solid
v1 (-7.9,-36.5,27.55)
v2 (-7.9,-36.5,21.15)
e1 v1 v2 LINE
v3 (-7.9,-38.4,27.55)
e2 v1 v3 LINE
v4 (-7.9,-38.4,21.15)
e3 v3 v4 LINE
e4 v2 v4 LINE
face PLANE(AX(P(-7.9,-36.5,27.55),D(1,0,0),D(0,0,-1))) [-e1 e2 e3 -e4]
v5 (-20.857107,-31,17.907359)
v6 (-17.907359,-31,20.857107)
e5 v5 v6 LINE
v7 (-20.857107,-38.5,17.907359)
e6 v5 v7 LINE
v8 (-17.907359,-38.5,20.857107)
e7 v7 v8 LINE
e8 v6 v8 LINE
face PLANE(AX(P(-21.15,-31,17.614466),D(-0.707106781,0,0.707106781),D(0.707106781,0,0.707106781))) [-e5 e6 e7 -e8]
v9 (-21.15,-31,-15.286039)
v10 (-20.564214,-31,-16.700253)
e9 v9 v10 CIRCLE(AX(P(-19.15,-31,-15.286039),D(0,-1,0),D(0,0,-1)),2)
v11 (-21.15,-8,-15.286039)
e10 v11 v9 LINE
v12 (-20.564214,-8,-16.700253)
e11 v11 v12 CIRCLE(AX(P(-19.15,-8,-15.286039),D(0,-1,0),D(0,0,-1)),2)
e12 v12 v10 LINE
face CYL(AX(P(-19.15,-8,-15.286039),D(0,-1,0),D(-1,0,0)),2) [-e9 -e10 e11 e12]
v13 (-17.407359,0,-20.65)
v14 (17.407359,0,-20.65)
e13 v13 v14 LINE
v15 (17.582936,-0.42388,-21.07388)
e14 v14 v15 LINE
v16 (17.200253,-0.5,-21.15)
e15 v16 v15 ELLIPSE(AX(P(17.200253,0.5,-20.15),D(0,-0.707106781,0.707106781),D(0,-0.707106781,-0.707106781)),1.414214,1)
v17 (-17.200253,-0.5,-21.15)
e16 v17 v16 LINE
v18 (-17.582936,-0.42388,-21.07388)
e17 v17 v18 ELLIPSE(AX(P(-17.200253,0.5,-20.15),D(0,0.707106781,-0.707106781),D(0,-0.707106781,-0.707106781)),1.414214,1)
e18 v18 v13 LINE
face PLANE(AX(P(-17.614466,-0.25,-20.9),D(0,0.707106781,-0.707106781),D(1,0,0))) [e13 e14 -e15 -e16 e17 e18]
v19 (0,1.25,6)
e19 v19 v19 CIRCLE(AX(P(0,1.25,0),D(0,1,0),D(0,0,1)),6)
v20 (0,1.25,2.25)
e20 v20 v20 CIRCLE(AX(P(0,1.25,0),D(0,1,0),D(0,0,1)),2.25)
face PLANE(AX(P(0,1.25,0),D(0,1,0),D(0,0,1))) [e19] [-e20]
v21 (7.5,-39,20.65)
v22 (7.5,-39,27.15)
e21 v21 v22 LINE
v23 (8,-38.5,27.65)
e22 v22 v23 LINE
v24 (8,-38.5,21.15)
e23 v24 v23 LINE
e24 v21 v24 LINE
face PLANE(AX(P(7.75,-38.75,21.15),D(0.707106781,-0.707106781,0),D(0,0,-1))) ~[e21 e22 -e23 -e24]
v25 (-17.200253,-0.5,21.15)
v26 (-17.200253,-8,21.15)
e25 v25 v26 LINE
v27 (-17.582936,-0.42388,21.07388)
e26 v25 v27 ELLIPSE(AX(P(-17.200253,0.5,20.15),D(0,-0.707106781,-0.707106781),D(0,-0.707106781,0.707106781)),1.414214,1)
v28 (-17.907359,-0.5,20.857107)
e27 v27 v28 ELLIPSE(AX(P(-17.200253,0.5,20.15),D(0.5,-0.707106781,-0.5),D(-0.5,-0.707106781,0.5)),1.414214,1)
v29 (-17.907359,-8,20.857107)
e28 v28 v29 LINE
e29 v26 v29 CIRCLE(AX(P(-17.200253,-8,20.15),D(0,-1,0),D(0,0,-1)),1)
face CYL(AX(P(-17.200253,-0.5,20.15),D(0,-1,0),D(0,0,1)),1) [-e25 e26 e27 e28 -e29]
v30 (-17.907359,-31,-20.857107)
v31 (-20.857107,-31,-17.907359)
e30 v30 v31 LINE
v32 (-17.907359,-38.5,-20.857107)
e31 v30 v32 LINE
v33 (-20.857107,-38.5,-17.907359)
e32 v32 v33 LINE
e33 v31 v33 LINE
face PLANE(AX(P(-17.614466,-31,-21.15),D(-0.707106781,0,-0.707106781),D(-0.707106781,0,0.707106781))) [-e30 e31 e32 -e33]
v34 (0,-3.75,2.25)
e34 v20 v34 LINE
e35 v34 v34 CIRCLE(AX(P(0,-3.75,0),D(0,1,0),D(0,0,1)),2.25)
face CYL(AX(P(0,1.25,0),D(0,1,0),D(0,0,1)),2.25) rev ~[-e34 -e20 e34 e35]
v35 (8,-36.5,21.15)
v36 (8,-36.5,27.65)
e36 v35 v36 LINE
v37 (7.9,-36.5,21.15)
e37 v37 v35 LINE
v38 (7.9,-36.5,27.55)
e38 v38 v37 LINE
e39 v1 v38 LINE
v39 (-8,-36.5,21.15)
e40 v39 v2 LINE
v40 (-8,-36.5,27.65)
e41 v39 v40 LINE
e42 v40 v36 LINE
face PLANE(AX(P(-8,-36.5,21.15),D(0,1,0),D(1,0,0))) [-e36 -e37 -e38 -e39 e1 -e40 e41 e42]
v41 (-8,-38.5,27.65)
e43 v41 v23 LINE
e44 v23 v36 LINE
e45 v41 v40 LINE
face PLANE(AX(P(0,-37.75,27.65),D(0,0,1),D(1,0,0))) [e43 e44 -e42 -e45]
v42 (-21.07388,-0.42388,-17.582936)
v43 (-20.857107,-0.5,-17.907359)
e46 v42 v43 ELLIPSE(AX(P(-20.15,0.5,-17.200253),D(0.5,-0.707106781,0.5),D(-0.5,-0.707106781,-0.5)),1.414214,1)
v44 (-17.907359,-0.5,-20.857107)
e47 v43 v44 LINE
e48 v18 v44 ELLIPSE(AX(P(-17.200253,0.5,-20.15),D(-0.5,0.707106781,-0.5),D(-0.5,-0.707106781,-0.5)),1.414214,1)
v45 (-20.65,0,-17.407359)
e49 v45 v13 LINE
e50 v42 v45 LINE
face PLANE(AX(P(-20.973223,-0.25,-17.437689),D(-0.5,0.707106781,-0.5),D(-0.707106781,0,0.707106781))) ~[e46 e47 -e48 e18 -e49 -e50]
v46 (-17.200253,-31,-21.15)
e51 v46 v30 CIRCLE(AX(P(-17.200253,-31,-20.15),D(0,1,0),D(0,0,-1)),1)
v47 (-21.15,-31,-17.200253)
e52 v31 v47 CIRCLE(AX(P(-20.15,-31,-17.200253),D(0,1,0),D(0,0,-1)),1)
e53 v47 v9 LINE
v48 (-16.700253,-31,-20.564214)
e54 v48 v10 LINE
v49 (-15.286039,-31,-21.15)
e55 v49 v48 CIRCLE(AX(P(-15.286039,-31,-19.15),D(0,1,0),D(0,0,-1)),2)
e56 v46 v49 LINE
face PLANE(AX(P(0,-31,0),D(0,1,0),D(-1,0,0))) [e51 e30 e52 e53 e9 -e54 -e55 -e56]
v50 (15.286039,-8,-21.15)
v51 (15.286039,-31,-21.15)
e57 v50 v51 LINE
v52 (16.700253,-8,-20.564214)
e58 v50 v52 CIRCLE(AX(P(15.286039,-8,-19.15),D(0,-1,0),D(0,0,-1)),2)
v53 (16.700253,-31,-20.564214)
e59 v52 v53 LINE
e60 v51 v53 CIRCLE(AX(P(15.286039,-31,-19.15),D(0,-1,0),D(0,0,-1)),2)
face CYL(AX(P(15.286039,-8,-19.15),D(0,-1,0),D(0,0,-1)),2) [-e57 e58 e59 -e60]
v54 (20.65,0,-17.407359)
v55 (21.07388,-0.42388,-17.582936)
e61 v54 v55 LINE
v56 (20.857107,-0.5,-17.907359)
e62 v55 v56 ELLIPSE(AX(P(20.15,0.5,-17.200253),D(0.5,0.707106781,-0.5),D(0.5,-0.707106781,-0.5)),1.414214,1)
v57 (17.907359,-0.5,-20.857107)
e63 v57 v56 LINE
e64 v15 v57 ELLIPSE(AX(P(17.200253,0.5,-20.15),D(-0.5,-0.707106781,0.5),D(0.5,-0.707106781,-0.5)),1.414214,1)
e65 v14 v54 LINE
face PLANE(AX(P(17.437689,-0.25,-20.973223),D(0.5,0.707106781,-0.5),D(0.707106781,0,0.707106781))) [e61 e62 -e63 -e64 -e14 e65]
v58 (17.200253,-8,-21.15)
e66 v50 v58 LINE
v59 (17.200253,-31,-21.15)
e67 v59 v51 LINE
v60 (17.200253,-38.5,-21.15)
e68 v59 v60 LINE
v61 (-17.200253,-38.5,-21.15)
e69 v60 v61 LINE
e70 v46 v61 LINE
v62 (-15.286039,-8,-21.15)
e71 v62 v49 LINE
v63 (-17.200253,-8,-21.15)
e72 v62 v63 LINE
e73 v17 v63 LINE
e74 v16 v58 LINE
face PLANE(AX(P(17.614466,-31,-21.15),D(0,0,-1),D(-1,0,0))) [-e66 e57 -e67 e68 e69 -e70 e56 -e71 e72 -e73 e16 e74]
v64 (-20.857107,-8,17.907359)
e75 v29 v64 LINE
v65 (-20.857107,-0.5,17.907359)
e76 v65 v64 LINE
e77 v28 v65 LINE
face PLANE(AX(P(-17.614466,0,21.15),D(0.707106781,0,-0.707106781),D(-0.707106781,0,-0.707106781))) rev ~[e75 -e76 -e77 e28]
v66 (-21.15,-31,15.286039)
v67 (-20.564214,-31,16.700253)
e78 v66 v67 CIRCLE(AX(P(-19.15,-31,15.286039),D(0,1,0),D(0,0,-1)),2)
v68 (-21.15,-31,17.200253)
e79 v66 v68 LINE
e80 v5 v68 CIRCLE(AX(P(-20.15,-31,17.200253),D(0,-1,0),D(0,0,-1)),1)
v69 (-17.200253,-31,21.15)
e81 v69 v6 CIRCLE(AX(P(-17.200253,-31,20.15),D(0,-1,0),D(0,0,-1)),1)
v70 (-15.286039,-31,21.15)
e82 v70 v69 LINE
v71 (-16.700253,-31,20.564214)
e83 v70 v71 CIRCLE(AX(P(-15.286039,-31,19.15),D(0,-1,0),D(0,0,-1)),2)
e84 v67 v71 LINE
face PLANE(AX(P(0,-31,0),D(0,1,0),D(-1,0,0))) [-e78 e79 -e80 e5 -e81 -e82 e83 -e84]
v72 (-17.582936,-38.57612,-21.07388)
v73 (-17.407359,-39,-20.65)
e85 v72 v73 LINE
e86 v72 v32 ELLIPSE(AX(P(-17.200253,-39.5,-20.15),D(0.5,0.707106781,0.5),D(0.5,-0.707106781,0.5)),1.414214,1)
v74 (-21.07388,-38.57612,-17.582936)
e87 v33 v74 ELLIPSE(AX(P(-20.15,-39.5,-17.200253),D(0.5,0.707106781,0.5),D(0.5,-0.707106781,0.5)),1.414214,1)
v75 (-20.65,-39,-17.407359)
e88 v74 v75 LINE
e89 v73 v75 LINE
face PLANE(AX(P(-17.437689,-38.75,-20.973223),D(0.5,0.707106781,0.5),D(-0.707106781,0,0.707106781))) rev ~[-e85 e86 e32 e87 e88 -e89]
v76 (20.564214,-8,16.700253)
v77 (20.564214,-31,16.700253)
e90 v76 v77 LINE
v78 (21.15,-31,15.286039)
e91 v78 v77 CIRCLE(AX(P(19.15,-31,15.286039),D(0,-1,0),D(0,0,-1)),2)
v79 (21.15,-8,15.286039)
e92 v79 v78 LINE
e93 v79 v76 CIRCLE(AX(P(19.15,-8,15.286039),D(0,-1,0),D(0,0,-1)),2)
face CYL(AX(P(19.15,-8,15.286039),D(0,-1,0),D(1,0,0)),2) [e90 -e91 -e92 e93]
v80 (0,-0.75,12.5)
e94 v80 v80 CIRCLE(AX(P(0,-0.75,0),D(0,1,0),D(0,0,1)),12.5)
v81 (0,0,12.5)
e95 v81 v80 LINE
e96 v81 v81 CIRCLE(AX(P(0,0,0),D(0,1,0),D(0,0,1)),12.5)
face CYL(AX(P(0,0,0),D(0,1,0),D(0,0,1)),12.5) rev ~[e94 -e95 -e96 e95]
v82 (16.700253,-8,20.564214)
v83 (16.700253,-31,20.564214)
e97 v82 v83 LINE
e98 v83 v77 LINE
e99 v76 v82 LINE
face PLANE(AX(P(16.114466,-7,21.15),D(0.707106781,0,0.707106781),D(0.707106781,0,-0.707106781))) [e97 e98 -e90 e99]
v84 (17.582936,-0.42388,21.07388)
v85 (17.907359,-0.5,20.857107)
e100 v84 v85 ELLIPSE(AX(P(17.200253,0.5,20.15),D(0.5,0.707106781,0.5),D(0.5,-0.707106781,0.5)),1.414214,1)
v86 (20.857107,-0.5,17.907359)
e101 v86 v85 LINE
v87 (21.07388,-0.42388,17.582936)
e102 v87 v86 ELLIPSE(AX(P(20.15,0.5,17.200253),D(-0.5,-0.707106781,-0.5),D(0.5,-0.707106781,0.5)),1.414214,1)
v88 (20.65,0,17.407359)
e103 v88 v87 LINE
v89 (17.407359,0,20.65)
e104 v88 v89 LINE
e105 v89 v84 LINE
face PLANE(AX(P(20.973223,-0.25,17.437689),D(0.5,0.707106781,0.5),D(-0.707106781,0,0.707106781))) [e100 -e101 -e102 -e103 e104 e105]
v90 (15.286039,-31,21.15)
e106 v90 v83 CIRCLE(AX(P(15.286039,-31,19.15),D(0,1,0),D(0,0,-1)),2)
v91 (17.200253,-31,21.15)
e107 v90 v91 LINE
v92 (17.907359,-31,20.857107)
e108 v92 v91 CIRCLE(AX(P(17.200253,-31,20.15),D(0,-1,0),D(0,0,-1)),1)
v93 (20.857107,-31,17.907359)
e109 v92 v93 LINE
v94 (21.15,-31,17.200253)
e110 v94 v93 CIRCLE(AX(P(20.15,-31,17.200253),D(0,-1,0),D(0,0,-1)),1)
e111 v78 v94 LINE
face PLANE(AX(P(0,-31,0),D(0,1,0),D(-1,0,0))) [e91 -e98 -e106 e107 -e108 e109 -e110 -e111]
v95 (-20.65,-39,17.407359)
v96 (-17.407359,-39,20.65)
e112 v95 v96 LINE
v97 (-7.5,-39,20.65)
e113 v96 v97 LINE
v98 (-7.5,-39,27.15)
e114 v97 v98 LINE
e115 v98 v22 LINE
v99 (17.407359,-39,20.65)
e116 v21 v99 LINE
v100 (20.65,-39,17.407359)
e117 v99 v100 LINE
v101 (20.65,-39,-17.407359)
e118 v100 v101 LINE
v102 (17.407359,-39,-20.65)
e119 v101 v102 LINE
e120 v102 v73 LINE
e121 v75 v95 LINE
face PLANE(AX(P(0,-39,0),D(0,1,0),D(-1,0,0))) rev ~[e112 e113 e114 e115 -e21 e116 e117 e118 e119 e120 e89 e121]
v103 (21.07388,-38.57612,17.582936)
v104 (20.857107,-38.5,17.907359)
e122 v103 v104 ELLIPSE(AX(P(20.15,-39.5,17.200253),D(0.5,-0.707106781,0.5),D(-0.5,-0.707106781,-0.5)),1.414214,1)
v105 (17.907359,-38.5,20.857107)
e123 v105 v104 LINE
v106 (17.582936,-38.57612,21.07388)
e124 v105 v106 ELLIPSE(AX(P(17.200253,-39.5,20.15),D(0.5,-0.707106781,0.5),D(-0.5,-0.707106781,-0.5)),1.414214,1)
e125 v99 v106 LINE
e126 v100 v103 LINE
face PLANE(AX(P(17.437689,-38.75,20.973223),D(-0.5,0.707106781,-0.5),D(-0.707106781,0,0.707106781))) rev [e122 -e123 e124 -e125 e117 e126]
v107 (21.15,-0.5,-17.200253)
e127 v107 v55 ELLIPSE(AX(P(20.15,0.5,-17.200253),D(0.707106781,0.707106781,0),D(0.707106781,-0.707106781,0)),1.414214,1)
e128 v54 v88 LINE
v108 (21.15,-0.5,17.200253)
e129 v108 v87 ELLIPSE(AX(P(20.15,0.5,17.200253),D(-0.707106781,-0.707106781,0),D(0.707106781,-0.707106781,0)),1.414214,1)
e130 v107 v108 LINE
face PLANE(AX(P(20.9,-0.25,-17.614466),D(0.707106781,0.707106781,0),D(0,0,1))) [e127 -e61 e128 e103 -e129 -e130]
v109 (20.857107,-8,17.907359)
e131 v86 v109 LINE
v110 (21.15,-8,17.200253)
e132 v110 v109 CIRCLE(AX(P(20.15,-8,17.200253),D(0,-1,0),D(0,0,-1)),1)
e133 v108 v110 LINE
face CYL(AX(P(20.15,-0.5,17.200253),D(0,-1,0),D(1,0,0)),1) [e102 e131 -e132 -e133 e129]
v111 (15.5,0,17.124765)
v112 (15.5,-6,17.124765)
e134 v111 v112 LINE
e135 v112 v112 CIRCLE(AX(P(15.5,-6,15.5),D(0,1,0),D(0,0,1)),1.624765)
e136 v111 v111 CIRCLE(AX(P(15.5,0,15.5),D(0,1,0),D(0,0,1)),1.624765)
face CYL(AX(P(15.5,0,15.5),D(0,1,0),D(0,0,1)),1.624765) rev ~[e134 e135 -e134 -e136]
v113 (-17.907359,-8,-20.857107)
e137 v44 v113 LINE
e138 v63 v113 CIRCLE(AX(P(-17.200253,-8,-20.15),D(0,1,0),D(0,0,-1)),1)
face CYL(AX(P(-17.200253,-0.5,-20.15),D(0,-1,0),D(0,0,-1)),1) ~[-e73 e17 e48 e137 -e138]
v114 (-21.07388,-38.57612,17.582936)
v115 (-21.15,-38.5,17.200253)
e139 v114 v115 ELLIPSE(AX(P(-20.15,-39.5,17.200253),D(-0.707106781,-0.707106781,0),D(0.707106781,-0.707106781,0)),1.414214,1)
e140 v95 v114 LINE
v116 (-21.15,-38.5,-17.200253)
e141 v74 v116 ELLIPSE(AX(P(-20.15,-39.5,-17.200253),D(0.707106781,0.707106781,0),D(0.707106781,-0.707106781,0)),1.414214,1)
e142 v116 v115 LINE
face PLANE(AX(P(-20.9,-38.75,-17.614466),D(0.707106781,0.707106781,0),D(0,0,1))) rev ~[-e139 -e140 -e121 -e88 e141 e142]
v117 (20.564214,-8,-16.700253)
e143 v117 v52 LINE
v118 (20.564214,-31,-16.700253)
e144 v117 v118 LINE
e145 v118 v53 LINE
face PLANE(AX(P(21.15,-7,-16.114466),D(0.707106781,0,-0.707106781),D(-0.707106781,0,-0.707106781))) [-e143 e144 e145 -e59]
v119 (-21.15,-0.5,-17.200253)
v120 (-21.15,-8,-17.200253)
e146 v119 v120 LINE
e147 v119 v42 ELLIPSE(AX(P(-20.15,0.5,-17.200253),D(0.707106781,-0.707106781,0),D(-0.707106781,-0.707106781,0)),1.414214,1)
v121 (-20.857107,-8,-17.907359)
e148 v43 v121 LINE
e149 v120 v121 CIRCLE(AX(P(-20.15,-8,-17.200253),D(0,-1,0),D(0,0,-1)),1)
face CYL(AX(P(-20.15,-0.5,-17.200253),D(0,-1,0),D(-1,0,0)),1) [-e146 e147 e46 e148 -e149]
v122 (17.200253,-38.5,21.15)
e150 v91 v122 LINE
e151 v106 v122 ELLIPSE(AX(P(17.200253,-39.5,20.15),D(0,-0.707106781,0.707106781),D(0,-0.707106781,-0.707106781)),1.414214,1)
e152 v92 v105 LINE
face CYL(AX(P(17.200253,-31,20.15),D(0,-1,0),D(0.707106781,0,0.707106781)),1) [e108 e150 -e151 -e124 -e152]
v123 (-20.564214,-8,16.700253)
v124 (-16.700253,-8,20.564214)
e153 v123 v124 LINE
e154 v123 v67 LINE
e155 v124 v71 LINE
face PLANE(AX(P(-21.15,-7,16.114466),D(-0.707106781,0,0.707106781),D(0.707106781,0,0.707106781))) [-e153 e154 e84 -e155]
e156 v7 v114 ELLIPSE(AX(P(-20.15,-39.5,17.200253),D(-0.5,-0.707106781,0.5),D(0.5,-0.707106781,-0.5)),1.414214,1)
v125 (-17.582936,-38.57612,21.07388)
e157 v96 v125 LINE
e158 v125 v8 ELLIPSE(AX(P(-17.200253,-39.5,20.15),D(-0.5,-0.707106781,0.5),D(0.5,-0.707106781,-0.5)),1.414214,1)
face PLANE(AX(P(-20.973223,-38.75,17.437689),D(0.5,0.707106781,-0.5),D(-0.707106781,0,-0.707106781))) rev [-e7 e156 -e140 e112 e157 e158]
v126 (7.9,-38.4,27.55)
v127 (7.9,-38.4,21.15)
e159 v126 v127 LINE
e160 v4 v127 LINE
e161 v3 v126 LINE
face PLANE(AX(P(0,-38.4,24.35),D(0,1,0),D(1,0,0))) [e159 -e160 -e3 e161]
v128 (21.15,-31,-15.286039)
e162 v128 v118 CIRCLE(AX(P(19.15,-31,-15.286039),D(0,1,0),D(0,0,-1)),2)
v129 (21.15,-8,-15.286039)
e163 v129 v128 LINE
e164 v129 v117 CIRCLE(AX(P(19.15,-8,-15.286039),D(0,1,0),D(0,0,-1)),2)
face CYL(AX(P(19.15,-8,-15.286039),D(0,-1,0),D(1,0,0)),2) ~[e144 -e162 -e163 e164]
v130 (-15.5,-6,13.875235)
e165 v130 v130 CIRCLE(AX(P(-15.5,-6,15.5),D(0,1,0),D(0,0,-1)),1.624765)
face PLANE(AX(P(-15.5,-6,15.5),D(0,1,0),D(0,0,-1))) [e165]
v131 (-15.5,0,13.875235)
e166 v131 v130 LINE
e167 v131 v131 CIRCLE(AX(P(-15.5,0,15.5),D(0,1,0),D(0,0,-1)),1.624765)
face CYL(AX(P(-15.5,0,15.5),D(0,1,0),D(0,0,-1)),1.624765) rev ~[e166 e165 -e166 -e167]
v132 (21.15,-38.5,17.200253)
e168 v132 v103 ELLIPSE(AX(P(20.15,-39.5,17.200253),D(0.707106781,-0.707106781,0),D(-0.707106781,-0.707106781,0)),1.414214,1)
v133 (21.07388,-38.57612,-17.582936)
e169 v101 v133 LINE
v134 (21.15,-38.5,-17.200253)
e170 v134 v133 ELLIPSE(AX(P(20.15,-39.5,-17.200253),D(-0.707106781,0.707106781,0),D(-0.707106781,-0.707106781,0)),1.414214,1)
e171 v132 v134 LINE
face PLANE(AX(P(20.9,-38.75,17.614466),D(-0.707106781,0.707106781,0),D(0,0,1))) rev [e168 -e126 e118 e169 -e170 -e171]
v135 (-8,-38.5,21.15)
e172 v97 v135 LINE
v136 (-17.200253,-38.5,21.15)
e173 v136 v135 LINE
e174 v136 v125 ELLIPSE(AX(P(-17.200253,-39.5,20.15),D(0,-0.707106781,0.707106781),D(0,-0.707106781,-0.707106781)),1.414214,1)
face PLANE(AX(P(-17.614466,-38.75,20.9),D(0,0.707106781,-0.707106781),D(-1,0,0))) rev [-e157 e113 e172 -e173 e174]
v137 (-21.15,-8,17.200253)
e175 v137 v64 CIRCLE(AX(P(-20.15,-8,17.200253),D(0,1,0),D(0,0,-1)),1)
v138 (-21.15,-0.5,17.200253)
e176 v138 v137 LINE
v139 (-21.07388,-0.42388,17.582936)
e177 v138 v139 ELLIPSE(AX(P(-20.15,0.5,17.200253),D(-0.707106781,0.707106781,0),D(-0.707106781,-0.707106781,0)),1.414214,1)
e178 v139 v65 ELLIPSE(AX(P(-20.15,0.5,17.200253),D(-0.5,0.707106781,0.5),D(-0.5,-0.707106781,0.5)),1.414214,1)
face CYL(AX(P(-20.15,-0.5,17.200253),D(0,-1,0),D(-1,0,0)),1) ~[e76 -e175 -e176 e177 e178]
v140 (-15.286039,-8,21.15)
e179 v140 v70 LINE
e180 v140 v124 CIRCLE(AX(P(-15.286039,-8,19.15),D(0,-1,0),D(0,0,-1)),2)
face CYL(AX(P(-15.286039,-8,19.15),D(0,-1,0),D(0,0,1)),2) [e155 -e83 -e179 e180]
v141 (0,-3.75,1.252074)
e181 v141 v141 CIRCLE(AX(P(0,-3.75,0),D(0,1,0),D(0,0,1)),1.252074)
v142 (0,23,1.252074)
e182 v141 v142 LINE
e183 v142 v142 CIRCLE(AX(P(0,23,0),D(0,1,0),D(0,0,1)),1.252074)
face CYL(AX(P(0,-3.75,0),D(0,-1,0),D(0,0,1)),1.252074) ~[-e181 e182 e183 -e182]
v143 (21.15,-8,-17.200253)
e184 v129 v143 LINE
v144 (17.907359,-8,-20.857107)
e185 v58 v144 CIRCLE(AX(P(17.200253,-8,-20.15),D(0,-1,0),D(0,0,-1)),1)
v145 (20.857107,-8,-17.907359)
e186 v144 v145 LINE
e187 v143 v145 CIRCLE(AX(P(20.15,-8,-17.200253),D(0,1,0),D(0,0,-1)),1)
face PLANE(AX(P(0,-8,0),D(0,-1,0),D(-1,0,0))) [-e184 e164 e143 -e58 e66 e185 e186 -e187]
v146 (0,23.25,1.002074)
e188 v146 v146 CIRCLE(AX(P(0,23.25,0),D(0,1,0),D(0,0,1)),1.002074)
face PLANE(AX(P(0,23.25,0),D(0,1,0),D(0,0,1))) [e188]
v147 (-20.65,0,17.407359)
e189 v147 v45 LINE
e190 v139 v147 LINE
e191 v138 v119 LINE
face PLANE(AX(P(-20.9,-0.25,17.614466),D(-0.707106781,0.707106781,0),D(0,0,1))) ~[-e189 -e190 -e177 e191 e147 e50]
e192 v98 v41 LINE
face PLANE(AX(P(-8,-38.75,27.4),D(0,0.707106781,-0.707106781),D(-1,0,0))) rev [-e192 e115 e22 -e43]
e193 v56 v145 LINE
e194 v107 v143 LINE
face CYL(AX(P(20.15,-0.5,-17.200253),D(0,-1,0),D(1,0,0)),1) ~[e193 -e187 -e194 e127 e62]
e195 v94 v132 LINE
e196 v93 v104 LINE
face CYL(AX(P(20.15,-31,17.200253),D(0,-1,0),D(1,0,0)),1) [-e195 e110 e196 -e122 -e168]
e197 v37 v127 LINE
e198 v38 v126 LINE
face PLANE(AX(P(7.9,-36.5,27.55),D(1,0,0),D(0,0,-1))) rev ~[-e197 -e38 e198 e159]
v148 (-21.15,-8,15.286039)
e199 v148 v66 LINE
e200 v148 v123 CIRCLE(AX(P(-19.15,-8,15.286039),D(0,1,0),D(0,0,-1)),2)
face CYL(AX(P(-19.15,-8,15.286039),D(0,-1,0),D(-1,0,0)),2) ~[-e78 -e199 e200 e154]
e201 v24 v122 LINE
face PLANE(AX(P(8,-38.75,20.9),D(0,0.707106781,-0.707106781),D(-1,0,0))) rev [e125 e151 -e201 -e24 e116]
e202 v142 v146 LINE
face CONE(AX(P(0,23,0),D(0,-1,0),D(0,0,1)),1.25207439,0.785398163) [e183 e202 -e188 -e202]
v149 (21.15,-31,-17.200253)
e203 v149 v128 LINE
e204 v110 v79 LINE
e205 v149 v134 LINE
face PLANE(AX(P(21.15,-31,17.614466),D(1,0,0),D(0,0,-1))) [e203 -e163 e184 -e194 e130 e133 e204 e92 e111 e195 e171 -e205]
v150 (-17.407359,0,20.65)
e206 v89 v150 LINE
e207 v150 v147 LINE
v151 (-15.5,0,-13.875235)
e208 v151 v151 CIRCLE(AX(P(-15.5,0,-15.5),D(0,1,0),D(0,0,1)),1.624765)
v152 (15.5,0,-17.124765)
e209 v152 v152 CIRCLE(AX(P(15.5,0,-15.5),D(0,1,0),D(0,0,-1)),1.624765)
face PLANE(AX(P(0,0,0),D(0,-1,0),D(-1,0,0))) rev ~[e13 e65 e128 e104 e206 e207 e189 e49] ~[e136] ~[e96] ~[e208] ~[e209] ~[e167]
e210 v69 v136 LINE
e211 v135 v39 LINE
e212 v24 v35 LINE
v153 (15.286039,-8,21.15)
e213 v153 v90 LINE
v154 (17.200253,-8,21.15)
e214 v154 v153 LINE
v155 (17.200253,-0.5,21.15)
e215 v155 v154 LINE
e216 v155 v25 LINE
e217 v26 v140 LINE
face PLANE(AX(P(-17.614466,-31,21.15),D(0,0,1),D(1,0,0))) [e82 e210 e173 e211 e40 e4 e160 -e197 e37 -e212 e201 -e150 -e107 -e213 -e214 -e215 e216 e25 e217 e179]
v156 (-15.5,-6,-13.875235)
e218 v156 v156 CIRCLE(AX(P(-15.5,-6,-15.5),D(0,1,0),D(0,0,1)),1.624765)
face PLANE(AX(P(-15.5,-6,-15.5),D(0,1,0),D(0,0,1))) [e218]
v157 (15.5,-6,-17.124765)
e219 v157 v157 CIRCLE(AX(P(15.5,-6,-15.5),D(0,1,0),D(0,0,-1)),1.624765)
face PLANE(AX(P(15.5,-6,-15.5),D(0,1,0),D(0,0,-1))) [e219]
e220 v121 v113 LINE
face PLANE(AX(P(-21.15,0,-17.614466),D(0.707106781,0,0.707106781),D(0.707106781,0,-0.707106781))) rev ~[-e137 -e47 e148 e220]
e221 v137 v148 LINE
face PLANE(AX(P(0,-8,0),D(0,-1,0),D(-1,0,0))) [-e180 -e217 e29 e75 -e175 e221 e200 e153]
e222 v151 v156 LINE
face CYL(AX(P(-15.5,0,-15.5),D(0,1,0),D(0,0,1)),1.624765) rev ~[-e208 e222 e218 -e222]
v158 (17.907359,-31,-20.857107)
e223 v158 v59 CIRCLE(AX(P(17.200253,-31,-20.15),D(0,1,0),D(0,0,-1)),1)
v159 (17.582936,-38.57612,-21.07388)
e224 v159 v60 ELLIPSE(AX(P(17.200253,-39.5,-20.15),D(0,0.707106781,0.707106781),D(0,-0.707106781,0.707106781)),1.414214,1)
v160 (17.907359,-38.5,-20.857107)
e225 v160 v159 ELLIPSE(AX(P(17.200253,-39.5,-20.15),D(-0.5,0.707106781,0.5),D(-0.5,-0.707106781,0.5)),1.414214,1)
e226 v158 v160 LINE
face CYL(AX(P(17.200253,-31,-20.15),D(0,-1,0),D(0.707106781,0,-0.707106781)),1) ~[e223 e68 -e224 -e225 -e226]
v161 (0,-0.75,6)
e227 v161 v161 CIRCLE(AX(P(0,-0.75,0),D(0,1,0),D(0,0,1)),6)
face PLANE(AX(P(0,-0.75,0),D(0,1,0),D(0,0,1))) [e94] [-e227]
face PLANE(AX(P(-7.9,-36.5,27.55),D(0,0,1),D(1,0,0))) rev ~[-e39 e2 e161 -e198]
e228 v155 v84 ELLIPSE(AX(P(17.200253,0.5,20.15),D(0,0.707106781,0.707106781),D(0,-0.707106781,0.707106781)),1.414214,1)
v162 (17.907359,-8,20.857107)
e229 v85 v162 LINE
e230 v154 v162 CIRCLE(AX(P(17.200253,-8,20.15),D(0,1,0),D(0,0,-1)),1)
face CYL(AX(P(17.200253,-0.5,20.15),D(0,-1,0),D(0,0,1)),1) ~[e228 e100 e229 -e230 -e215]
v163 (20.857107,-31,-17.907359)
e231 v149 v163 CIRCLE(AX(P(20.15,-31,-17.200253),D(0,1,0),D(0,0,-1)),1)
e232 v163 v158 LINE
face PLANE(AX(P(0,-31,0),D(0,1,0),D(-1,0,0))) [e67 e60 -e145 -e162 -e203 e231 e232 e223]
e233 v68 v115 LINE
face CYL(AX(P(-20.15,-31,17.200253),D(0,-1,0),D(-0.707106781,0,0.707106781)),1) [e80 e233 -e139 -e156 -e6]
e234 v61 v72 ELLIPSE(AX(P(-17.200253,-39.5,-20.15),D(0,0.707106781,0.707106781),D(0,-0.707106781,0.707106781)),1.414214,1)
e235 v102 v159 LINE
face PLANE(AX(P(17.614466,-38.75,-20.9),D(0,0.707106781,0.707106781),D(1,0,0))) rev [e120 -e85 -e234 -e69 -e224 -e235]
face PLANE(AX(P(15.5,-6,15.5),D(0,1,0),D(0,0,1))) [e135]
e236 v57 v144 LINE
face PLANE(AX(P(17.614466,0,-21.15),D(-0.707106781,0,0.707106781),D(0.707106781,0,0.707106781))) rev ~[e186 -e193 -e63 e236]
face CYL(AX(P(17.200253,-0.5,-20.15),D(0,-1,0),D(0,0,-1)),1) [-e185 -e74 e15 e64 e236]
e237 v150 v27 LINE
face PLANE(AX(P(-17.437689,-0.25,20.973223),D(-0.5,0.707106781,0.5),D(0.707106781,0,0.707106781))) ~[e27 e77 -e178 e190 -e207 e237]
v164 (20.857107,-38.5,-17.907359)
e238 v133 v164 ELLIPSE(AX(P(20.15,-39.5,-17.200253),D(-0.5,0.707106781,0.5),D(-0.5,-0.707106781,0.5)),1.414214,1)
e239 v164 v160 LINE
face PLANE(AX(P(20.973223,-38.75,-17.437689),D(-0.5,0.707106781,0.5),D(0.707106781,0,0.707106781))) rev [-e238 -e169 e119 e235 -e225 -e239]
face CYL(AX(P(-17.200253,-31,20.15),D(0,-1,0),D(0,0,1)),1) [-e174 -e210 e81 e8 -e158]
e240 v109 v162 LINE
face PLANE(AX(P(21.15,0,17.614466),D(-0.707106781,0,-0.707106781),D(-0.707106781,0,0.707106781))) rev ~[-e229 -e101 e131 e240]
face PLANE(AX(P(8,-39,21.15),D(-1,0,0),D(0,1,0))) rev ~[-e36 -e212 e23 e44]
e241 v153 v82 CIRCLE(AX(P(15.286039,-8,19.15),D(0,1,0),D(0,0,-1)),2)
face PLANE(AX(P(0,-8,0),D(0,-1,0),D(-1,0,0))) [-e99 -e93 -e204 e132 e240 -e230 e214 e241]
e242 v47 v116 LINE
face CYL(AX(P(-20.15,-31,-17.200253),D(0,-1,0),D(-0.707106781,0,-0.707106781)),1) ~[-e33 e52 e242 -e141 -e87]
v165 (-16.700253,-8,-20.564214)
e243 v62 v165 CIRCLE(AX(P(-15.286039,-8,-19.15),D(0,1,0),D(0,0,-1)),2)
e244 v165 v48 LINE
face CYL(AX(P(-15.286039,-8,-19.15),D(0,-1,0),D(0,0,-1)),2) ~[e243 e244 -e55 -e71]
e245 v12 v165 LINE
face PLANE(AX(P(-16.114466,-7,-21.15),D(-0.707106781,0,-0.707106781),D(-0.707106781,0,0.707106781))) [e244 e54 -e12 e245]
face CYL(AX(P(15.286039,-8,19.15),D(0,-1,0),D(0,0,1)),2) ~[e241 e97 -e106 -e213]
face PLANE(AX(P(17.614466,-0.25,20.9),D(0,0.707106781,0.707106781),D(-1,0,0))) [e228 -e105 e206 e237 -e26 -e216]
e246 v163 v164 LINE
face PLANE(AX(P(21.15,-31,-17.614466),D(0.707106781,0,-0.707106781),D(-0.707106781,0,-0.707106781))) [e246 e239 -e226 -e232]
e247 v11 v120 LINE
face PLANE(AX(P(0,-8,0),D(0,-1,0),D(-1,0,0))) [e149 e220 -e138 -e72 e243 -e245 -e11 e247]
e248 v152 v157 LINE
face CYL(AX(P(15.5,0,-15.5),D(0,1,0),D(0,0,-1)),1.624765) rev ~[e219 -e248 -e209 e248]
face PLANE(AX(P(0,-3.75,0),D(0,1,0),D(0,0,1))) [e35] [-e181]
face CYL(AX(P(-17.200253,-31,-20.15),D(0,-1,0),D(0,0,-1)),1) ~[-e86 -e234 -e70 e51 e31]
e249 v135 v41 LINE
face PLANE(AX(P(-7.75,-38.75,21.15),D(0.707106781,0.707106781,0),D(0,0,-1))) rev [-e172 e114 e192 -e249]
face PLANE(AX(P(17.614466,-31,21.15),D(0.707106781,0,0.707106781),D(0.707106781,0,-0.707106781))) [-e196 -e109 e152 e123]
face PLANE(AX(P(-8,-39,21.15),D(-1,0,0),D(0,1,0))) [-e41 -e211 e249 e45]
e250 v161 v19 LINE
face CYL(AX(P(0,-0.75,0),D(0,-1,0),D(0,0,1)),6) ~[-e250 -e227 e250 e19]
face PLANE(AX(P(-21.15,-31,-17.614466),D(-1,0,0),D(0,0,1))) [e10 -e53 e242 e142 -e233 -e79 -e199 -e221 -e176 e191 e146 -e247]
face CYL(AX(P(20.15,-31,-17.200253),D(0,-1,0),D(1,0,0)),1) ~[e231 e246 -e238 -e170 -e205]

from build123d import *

# Parameters (mm, degrees)
BOSS_EXTRUDE1_DEPTH  = 8
SKETCH2_R            = 1.624765057
CUT_EXTRUDE1_DEPTH   = 6
CHAMFER1_SIZE        = 0.5
SKETCH3_W            = 32.228932188
SKETCH3_H            = 1
CUT_EXTRUDE2_DEPTH   = 48.964700562
SKETCH4_W            = 32.228932188
SKETCH4_H            = 1
CUT_EXTRUDE3_DEPTH   = 48.964700562
CUT_EXTRUDE4_DEPTH   = 1
MIRROR2_COPY_1_DEPTH = 1
BOSS_EXTRUDE2_DEPTH  = 24
BOSS_EXTRUDE4_DEPTH  = 8
SKETCH22_W           = 16
SKETCH22_H           = 2.5
BOSS_EXTRUDE5_DEPTH  = 6.5
CHAMFER3_SIZE        = 0.5
SKETCH23_W           = 15.8
SKETCH23_H           = 6.4
CUT_EXTRUDE5_DEPTH   = 1.9
SKETCH24_R           = 12.5
CUT_EXTRUDE6_DEPTH   = 0.75
SKETCH25_R           = 6
BOSS_EXTRUDE6_DEPTH  = 2
SKETCH26_R           = 2.25
CUT_EXTRUDE7_DEPTH   = 5
SKETCH27_R           = 1.25207439
BOSS_EXTRUDE7_DEPTH  = 27
CHAMFER5_SIZE        = 0.25
FILLET1_R            = 2
FILLET3_R            = 1
FILLET4_R            = 1


with BuildPart() as part:
    # Sketch1 → Boss-Extrude1 (new body)
    with BuildSketch(Plane(origin=(0, 0, 0), x_dir=(1, 0, 0), z_dir=(0, 1, 0))):
        Polygon((-21.15, -17.614466094), (-21.15, 17.614466094), (-17.614466094, 21.15), (17.614466094, 21.15), (21.15, 17.614466094), (21.15, -17.614466094), (17.614466094, -21.15), (-17.614466094, -21.15), align=None)
    extrude(amount=-BOSS_EXTRUDE1_DEPTH)

    # Sketch2 → Cut-Extrude1 (cut)
    with BuildSketch(Plane(origin=(0, 0, 0), x_dir=(1, 0, 0), z_dir=(0, 1, 0))):
        with Locations(Location((-15.5, 15.5, 0), (0, 0, 270))):
            Circle(SKETCH2_R)
        with Locations(Location((15.5, 15.5, 0), (0, 0, 90))):
            Circle(SKETCH2_R)
        with Locations(Location((15.5, -15.5, 0), (0, 0, 270))):
            Circle(SKETCH2_R)
        with Locations(Location((-15.5, -15.5, 0), (0, 0, 90))):
            Circle(SKETCH2_R)
    extrude(amount=-CUT_EXTRUDE1_DEPTH, mode=Mode.SUBTRACT)

    # Chamfer1
    chamfer1_edges = [part.edges().sort_by_distance(p)[0] for p in [
        (21.15, 0, 0),
        (19.382233047, 0, 19.382233047),
        (0, 0, 21.15),
        (-19.382233047, 0, 19.382233047),
        (-21.15, 0, 0),
        (-19.382233047, 0, -19.382233047),
        (0, 0, -21.15),
        (19.382233047, 0, -19.382233047),
    ]]
    chamfer(chamfer1_edges, length=CHAMFER1_SIZE)

    # Sketch3 → Cut-Extrude2 (cut, through all)
    with BuildSketch(Plane(origin=(21.15, 0, 0), x_dir=(0, 0, -1), z_dir=(1, 0, 0))):
        with Locations((0, -7.5)):
            Rectangle(SKETCH3_W, SKETCH3_H)
    extrude(amount=-CUT_EXTRUDE2_DEPTH, mode=Mode.SUBTRACT)

    # Sketch4 → Cut-Extrude3 (cut, through all)
    with BuildSketch(Plane.XY.offset(21.15)):
        with Locations((0, -7.5)):
            Rectangle(SKETCH4_W, SKETCH4_H)
    extrude(amount=-CUT_EXTRUDE3_DEPTH, mode=Mode.SUBTRACT)

    # Sketch5 → Cut-Extrude4 (cut)
    with BuildSketch(Plane.XZ.offset(8)):
        Polygon((-21.15, 16.114466094), (-16.114466094, 21.15), (-16.114466094, 16.114466094), align=None)
    cut_extrude4 = extrude(amount=-CUT_EXTRUDE4_DEPTH, mode=Mode.SUBTRACT)

    # Mirror1: Cut-Extrude4 across plane
    add(cut_extrude4.mirror(Plane(origin=(0, 0, 0), x_dir=(0, 0, 1), z_dir=(1, 0, 0))), mode=Mode.SUBTRACT)

    # Mirror2: Cut-Extrude4 across plane
    add(cut_extrude4.mirror(Plane.XY), mode=Mode.SUBTRACT)

    # Mirror2 copy 1 sketch → Mirror2 copy 1 (cut)
    with BuildSketch(Plane(origin=(0, -8, 0), x_dir=(-1, 0, 0), z_dir=(0, -1, 0))):
        Polygon((-21.15, 16.114466094), (-16.114466094, 21.15), (-16.114466094, 16.114466094), align=None)
    extrude(amount=-MIRROR2_COPY_1_DEPTH, mode=Mode.SUBTRACT)

    # Sketch6 → Boss-Extrude2 (add)
    with BuildSketch(Plane.XZ.offset(7)):
        Polygon((-21.15, -16.114466094), (-21.15, 16.114466094), (-16.114466094, 21.15), (16.114466094, 21.15), (21.15, 16.114466094), (21.15, -16.114466094), (16.114466094, -21.15), (-16.114466094, -21.15), align=None)
    extrude(amount=BOSS_EXTRUDE2_DEPTH)

    # Sketch16 → Boss-Extrude4 (add)
    with BuildSketch(Plane.XZ.offset(31)):
        Polygon((-21.15, -17.614466094), (-21.15, 17.614466094), (-17.614466094, 21.15), (17.614466094, 21.15), (21.15, 17.614466094), (21.15, -17.614466094), (17.614466094, -21.15), (-17.614466094, -21.15), align=None)
    extrude(amount=BOSS_EXTRUDE4_DEPTH)

    # Sketch22 → Boss-Extrude5 (add)
    with BuildSketch(Plane.XY.offset(21.15)):
        with Locations((0, -37.75)):
            Rectangle(SKETCH22_W, SKETCH22_H)
    extrude(amount=BOSS_EXTRUDE5_DEPTH)

    # Chamfer3
    chamfer3_edges = [part.edges().sort_by_distance(p)[0] for p in [
        (-19.382233047, -39, -19.382233047),
        (0, -39, -21.15),
        (19.382233047, -39, -19.382233047),
        (21.15, -39, 0),
        (19.382233047, -39, 19.382233047),
        (12.807233047, -39, 21.15),
        (-19.382233047, -39, 19.382233047),
        (-21.15, -39, 0),
        (-12.807233047, -39, 21.15),
        (-8, -39, 24.4),
        (8, -39, 24.4),
        (0, -39, 27.65),
    ]]
    chamfer(chamfer3_edges, length=CHAMFER3_SIZE)

    # Sketch23 → Cut-Extrude5 (cut)
    with BuildSketch(Plane(origin=(0, -36.5, 0), x_dir=(1, 0, 0), z_dir=(0, 1, 0))):
        with Locations((0, -24.35)):
            Rectangle(SKETCH23_W, SKETCH23_H)
    extrude(amount=-CUT_EXTRUDE5_DEPTH, mode=Mode.SUBTRACT)

    # Sketch24 → Cut-Extrude6 (cut)
    with BuildSketch(Plane(origin=(0, 0, 0), x_dir=(1, 0, 0), z_dir=(0, 1, 0))):
        with Locations(Location((0, 0, 0), (0, 0, 270))):
            Circle(SKETCH24_R)
    extrude(amount=-CUT_EXTRUDE6_DEPTH, mode=Mode.SUBTRACT)

    # Sketch25 → Boss-Extrude6 (add)
    with BuildSketch(Plane(origin=(0, -0.75, 0), x_dir=(1, 0, 0), z_dir=(0, 1, 0))):
        with Locations(Location((0, 0, 0), (0, 0, 270))):
            Circle(SKETCH25_R)
    extrude(amount=BOSS_EXTRUDE6_DEPTH)

    # Sketch26 → Cut-Extrude7 (cut)
    with BuildSketch(Plane(origin=(0, 1.25, 0), x_dir=(1, 0, 0), z_dir=(0, 1, 0))):
        with Locations(Location((0, 0, 0), (0, 0, 270))):
            Circle(SKETCH26_R)
    extrude(amount=-CUT_EXTRUDE7_DEPTH, mode=Mode.SUBTRACT)

    # Sketch27 → Boss-Extrude7 (add)
    with BuildSketch(Plane(origin=(0, -3.75, 0), x_dir=(1, 0, 0), z_dir=(0, 1, 0))):
        with Locations(Location((0, 0, 0), (0, 0, 270))):
            Circle(SKETCH27_R)
    extrude(amount=BOSS_EXTRUDE7_DEPTH)

    # Chamfer5
    chamfer5_edges = [part.edges().sort_by_distance(p)[0] for p in [
        (0, 23.25, -1.25207439),
    ]]
    chamfer(chamfer5_edges, length=CHAMFER5_SIZE)

    # Fillet1
    fillet1_edges = [part.edges().sort_by_distance(p)[0] for p in [
        (-21.15, -19.5, -16.114466094),
        (-16.114466094, -19.5, -21.15),
        (16.114466094, -19.5, -21.15),
        (21.15, -19.5, -16.114466094),
        (21.15, -19.5, 16.114466094),
        (16.114466094, -19.5, 21.15),
        (-16.114466094, -19.5, 21.15),
        (-21.15, -19.5, 16.114466094),
    ]]
    fillet(fillet1_edges, radius=FILLET1_R)

    # Fillet3
    fillet3_edges = [part.edges().sort_by_distance(p)[0] for p in [
        (-21.15, -4.25, 17.614466094),
        (-21.15, -4.25, -17.614466094),
        (-17.614466094, -4.25, -21.15),
        (17.614466094, -4.25, -21.15),
        (21.15, -4.25, -17.614466094),
        (21.15, -4.25, 17.614466094),
        (17.614466094, -4.25, 21.15),
        (-17.614466094, -4.25, 21.15),
    ]]
    fillet(fillet3_edges, radius=FILLET3_R)

    # Fillet4
    fillet4_edges = [part.edges().sort_by_distance(p)[0] for p in [
        (-21.15, -34.75, -17.614466094),
        (-21.15, -34.75, 17.614466094),
        (-17.614466094, -34.75, 21.15),
        (17.614466094, -34.75, 21.15),
        (21.15, -34.75, 17.614466094),
        (21.15, -34.75, -17.614466094),
        (17.614466094, -34.75, -21.15),
        (-17.614466094, -34.75, -21.15),
    ]]
    fillet(fillet4_edges, radius=FILLET4_R)


solid = part.part
